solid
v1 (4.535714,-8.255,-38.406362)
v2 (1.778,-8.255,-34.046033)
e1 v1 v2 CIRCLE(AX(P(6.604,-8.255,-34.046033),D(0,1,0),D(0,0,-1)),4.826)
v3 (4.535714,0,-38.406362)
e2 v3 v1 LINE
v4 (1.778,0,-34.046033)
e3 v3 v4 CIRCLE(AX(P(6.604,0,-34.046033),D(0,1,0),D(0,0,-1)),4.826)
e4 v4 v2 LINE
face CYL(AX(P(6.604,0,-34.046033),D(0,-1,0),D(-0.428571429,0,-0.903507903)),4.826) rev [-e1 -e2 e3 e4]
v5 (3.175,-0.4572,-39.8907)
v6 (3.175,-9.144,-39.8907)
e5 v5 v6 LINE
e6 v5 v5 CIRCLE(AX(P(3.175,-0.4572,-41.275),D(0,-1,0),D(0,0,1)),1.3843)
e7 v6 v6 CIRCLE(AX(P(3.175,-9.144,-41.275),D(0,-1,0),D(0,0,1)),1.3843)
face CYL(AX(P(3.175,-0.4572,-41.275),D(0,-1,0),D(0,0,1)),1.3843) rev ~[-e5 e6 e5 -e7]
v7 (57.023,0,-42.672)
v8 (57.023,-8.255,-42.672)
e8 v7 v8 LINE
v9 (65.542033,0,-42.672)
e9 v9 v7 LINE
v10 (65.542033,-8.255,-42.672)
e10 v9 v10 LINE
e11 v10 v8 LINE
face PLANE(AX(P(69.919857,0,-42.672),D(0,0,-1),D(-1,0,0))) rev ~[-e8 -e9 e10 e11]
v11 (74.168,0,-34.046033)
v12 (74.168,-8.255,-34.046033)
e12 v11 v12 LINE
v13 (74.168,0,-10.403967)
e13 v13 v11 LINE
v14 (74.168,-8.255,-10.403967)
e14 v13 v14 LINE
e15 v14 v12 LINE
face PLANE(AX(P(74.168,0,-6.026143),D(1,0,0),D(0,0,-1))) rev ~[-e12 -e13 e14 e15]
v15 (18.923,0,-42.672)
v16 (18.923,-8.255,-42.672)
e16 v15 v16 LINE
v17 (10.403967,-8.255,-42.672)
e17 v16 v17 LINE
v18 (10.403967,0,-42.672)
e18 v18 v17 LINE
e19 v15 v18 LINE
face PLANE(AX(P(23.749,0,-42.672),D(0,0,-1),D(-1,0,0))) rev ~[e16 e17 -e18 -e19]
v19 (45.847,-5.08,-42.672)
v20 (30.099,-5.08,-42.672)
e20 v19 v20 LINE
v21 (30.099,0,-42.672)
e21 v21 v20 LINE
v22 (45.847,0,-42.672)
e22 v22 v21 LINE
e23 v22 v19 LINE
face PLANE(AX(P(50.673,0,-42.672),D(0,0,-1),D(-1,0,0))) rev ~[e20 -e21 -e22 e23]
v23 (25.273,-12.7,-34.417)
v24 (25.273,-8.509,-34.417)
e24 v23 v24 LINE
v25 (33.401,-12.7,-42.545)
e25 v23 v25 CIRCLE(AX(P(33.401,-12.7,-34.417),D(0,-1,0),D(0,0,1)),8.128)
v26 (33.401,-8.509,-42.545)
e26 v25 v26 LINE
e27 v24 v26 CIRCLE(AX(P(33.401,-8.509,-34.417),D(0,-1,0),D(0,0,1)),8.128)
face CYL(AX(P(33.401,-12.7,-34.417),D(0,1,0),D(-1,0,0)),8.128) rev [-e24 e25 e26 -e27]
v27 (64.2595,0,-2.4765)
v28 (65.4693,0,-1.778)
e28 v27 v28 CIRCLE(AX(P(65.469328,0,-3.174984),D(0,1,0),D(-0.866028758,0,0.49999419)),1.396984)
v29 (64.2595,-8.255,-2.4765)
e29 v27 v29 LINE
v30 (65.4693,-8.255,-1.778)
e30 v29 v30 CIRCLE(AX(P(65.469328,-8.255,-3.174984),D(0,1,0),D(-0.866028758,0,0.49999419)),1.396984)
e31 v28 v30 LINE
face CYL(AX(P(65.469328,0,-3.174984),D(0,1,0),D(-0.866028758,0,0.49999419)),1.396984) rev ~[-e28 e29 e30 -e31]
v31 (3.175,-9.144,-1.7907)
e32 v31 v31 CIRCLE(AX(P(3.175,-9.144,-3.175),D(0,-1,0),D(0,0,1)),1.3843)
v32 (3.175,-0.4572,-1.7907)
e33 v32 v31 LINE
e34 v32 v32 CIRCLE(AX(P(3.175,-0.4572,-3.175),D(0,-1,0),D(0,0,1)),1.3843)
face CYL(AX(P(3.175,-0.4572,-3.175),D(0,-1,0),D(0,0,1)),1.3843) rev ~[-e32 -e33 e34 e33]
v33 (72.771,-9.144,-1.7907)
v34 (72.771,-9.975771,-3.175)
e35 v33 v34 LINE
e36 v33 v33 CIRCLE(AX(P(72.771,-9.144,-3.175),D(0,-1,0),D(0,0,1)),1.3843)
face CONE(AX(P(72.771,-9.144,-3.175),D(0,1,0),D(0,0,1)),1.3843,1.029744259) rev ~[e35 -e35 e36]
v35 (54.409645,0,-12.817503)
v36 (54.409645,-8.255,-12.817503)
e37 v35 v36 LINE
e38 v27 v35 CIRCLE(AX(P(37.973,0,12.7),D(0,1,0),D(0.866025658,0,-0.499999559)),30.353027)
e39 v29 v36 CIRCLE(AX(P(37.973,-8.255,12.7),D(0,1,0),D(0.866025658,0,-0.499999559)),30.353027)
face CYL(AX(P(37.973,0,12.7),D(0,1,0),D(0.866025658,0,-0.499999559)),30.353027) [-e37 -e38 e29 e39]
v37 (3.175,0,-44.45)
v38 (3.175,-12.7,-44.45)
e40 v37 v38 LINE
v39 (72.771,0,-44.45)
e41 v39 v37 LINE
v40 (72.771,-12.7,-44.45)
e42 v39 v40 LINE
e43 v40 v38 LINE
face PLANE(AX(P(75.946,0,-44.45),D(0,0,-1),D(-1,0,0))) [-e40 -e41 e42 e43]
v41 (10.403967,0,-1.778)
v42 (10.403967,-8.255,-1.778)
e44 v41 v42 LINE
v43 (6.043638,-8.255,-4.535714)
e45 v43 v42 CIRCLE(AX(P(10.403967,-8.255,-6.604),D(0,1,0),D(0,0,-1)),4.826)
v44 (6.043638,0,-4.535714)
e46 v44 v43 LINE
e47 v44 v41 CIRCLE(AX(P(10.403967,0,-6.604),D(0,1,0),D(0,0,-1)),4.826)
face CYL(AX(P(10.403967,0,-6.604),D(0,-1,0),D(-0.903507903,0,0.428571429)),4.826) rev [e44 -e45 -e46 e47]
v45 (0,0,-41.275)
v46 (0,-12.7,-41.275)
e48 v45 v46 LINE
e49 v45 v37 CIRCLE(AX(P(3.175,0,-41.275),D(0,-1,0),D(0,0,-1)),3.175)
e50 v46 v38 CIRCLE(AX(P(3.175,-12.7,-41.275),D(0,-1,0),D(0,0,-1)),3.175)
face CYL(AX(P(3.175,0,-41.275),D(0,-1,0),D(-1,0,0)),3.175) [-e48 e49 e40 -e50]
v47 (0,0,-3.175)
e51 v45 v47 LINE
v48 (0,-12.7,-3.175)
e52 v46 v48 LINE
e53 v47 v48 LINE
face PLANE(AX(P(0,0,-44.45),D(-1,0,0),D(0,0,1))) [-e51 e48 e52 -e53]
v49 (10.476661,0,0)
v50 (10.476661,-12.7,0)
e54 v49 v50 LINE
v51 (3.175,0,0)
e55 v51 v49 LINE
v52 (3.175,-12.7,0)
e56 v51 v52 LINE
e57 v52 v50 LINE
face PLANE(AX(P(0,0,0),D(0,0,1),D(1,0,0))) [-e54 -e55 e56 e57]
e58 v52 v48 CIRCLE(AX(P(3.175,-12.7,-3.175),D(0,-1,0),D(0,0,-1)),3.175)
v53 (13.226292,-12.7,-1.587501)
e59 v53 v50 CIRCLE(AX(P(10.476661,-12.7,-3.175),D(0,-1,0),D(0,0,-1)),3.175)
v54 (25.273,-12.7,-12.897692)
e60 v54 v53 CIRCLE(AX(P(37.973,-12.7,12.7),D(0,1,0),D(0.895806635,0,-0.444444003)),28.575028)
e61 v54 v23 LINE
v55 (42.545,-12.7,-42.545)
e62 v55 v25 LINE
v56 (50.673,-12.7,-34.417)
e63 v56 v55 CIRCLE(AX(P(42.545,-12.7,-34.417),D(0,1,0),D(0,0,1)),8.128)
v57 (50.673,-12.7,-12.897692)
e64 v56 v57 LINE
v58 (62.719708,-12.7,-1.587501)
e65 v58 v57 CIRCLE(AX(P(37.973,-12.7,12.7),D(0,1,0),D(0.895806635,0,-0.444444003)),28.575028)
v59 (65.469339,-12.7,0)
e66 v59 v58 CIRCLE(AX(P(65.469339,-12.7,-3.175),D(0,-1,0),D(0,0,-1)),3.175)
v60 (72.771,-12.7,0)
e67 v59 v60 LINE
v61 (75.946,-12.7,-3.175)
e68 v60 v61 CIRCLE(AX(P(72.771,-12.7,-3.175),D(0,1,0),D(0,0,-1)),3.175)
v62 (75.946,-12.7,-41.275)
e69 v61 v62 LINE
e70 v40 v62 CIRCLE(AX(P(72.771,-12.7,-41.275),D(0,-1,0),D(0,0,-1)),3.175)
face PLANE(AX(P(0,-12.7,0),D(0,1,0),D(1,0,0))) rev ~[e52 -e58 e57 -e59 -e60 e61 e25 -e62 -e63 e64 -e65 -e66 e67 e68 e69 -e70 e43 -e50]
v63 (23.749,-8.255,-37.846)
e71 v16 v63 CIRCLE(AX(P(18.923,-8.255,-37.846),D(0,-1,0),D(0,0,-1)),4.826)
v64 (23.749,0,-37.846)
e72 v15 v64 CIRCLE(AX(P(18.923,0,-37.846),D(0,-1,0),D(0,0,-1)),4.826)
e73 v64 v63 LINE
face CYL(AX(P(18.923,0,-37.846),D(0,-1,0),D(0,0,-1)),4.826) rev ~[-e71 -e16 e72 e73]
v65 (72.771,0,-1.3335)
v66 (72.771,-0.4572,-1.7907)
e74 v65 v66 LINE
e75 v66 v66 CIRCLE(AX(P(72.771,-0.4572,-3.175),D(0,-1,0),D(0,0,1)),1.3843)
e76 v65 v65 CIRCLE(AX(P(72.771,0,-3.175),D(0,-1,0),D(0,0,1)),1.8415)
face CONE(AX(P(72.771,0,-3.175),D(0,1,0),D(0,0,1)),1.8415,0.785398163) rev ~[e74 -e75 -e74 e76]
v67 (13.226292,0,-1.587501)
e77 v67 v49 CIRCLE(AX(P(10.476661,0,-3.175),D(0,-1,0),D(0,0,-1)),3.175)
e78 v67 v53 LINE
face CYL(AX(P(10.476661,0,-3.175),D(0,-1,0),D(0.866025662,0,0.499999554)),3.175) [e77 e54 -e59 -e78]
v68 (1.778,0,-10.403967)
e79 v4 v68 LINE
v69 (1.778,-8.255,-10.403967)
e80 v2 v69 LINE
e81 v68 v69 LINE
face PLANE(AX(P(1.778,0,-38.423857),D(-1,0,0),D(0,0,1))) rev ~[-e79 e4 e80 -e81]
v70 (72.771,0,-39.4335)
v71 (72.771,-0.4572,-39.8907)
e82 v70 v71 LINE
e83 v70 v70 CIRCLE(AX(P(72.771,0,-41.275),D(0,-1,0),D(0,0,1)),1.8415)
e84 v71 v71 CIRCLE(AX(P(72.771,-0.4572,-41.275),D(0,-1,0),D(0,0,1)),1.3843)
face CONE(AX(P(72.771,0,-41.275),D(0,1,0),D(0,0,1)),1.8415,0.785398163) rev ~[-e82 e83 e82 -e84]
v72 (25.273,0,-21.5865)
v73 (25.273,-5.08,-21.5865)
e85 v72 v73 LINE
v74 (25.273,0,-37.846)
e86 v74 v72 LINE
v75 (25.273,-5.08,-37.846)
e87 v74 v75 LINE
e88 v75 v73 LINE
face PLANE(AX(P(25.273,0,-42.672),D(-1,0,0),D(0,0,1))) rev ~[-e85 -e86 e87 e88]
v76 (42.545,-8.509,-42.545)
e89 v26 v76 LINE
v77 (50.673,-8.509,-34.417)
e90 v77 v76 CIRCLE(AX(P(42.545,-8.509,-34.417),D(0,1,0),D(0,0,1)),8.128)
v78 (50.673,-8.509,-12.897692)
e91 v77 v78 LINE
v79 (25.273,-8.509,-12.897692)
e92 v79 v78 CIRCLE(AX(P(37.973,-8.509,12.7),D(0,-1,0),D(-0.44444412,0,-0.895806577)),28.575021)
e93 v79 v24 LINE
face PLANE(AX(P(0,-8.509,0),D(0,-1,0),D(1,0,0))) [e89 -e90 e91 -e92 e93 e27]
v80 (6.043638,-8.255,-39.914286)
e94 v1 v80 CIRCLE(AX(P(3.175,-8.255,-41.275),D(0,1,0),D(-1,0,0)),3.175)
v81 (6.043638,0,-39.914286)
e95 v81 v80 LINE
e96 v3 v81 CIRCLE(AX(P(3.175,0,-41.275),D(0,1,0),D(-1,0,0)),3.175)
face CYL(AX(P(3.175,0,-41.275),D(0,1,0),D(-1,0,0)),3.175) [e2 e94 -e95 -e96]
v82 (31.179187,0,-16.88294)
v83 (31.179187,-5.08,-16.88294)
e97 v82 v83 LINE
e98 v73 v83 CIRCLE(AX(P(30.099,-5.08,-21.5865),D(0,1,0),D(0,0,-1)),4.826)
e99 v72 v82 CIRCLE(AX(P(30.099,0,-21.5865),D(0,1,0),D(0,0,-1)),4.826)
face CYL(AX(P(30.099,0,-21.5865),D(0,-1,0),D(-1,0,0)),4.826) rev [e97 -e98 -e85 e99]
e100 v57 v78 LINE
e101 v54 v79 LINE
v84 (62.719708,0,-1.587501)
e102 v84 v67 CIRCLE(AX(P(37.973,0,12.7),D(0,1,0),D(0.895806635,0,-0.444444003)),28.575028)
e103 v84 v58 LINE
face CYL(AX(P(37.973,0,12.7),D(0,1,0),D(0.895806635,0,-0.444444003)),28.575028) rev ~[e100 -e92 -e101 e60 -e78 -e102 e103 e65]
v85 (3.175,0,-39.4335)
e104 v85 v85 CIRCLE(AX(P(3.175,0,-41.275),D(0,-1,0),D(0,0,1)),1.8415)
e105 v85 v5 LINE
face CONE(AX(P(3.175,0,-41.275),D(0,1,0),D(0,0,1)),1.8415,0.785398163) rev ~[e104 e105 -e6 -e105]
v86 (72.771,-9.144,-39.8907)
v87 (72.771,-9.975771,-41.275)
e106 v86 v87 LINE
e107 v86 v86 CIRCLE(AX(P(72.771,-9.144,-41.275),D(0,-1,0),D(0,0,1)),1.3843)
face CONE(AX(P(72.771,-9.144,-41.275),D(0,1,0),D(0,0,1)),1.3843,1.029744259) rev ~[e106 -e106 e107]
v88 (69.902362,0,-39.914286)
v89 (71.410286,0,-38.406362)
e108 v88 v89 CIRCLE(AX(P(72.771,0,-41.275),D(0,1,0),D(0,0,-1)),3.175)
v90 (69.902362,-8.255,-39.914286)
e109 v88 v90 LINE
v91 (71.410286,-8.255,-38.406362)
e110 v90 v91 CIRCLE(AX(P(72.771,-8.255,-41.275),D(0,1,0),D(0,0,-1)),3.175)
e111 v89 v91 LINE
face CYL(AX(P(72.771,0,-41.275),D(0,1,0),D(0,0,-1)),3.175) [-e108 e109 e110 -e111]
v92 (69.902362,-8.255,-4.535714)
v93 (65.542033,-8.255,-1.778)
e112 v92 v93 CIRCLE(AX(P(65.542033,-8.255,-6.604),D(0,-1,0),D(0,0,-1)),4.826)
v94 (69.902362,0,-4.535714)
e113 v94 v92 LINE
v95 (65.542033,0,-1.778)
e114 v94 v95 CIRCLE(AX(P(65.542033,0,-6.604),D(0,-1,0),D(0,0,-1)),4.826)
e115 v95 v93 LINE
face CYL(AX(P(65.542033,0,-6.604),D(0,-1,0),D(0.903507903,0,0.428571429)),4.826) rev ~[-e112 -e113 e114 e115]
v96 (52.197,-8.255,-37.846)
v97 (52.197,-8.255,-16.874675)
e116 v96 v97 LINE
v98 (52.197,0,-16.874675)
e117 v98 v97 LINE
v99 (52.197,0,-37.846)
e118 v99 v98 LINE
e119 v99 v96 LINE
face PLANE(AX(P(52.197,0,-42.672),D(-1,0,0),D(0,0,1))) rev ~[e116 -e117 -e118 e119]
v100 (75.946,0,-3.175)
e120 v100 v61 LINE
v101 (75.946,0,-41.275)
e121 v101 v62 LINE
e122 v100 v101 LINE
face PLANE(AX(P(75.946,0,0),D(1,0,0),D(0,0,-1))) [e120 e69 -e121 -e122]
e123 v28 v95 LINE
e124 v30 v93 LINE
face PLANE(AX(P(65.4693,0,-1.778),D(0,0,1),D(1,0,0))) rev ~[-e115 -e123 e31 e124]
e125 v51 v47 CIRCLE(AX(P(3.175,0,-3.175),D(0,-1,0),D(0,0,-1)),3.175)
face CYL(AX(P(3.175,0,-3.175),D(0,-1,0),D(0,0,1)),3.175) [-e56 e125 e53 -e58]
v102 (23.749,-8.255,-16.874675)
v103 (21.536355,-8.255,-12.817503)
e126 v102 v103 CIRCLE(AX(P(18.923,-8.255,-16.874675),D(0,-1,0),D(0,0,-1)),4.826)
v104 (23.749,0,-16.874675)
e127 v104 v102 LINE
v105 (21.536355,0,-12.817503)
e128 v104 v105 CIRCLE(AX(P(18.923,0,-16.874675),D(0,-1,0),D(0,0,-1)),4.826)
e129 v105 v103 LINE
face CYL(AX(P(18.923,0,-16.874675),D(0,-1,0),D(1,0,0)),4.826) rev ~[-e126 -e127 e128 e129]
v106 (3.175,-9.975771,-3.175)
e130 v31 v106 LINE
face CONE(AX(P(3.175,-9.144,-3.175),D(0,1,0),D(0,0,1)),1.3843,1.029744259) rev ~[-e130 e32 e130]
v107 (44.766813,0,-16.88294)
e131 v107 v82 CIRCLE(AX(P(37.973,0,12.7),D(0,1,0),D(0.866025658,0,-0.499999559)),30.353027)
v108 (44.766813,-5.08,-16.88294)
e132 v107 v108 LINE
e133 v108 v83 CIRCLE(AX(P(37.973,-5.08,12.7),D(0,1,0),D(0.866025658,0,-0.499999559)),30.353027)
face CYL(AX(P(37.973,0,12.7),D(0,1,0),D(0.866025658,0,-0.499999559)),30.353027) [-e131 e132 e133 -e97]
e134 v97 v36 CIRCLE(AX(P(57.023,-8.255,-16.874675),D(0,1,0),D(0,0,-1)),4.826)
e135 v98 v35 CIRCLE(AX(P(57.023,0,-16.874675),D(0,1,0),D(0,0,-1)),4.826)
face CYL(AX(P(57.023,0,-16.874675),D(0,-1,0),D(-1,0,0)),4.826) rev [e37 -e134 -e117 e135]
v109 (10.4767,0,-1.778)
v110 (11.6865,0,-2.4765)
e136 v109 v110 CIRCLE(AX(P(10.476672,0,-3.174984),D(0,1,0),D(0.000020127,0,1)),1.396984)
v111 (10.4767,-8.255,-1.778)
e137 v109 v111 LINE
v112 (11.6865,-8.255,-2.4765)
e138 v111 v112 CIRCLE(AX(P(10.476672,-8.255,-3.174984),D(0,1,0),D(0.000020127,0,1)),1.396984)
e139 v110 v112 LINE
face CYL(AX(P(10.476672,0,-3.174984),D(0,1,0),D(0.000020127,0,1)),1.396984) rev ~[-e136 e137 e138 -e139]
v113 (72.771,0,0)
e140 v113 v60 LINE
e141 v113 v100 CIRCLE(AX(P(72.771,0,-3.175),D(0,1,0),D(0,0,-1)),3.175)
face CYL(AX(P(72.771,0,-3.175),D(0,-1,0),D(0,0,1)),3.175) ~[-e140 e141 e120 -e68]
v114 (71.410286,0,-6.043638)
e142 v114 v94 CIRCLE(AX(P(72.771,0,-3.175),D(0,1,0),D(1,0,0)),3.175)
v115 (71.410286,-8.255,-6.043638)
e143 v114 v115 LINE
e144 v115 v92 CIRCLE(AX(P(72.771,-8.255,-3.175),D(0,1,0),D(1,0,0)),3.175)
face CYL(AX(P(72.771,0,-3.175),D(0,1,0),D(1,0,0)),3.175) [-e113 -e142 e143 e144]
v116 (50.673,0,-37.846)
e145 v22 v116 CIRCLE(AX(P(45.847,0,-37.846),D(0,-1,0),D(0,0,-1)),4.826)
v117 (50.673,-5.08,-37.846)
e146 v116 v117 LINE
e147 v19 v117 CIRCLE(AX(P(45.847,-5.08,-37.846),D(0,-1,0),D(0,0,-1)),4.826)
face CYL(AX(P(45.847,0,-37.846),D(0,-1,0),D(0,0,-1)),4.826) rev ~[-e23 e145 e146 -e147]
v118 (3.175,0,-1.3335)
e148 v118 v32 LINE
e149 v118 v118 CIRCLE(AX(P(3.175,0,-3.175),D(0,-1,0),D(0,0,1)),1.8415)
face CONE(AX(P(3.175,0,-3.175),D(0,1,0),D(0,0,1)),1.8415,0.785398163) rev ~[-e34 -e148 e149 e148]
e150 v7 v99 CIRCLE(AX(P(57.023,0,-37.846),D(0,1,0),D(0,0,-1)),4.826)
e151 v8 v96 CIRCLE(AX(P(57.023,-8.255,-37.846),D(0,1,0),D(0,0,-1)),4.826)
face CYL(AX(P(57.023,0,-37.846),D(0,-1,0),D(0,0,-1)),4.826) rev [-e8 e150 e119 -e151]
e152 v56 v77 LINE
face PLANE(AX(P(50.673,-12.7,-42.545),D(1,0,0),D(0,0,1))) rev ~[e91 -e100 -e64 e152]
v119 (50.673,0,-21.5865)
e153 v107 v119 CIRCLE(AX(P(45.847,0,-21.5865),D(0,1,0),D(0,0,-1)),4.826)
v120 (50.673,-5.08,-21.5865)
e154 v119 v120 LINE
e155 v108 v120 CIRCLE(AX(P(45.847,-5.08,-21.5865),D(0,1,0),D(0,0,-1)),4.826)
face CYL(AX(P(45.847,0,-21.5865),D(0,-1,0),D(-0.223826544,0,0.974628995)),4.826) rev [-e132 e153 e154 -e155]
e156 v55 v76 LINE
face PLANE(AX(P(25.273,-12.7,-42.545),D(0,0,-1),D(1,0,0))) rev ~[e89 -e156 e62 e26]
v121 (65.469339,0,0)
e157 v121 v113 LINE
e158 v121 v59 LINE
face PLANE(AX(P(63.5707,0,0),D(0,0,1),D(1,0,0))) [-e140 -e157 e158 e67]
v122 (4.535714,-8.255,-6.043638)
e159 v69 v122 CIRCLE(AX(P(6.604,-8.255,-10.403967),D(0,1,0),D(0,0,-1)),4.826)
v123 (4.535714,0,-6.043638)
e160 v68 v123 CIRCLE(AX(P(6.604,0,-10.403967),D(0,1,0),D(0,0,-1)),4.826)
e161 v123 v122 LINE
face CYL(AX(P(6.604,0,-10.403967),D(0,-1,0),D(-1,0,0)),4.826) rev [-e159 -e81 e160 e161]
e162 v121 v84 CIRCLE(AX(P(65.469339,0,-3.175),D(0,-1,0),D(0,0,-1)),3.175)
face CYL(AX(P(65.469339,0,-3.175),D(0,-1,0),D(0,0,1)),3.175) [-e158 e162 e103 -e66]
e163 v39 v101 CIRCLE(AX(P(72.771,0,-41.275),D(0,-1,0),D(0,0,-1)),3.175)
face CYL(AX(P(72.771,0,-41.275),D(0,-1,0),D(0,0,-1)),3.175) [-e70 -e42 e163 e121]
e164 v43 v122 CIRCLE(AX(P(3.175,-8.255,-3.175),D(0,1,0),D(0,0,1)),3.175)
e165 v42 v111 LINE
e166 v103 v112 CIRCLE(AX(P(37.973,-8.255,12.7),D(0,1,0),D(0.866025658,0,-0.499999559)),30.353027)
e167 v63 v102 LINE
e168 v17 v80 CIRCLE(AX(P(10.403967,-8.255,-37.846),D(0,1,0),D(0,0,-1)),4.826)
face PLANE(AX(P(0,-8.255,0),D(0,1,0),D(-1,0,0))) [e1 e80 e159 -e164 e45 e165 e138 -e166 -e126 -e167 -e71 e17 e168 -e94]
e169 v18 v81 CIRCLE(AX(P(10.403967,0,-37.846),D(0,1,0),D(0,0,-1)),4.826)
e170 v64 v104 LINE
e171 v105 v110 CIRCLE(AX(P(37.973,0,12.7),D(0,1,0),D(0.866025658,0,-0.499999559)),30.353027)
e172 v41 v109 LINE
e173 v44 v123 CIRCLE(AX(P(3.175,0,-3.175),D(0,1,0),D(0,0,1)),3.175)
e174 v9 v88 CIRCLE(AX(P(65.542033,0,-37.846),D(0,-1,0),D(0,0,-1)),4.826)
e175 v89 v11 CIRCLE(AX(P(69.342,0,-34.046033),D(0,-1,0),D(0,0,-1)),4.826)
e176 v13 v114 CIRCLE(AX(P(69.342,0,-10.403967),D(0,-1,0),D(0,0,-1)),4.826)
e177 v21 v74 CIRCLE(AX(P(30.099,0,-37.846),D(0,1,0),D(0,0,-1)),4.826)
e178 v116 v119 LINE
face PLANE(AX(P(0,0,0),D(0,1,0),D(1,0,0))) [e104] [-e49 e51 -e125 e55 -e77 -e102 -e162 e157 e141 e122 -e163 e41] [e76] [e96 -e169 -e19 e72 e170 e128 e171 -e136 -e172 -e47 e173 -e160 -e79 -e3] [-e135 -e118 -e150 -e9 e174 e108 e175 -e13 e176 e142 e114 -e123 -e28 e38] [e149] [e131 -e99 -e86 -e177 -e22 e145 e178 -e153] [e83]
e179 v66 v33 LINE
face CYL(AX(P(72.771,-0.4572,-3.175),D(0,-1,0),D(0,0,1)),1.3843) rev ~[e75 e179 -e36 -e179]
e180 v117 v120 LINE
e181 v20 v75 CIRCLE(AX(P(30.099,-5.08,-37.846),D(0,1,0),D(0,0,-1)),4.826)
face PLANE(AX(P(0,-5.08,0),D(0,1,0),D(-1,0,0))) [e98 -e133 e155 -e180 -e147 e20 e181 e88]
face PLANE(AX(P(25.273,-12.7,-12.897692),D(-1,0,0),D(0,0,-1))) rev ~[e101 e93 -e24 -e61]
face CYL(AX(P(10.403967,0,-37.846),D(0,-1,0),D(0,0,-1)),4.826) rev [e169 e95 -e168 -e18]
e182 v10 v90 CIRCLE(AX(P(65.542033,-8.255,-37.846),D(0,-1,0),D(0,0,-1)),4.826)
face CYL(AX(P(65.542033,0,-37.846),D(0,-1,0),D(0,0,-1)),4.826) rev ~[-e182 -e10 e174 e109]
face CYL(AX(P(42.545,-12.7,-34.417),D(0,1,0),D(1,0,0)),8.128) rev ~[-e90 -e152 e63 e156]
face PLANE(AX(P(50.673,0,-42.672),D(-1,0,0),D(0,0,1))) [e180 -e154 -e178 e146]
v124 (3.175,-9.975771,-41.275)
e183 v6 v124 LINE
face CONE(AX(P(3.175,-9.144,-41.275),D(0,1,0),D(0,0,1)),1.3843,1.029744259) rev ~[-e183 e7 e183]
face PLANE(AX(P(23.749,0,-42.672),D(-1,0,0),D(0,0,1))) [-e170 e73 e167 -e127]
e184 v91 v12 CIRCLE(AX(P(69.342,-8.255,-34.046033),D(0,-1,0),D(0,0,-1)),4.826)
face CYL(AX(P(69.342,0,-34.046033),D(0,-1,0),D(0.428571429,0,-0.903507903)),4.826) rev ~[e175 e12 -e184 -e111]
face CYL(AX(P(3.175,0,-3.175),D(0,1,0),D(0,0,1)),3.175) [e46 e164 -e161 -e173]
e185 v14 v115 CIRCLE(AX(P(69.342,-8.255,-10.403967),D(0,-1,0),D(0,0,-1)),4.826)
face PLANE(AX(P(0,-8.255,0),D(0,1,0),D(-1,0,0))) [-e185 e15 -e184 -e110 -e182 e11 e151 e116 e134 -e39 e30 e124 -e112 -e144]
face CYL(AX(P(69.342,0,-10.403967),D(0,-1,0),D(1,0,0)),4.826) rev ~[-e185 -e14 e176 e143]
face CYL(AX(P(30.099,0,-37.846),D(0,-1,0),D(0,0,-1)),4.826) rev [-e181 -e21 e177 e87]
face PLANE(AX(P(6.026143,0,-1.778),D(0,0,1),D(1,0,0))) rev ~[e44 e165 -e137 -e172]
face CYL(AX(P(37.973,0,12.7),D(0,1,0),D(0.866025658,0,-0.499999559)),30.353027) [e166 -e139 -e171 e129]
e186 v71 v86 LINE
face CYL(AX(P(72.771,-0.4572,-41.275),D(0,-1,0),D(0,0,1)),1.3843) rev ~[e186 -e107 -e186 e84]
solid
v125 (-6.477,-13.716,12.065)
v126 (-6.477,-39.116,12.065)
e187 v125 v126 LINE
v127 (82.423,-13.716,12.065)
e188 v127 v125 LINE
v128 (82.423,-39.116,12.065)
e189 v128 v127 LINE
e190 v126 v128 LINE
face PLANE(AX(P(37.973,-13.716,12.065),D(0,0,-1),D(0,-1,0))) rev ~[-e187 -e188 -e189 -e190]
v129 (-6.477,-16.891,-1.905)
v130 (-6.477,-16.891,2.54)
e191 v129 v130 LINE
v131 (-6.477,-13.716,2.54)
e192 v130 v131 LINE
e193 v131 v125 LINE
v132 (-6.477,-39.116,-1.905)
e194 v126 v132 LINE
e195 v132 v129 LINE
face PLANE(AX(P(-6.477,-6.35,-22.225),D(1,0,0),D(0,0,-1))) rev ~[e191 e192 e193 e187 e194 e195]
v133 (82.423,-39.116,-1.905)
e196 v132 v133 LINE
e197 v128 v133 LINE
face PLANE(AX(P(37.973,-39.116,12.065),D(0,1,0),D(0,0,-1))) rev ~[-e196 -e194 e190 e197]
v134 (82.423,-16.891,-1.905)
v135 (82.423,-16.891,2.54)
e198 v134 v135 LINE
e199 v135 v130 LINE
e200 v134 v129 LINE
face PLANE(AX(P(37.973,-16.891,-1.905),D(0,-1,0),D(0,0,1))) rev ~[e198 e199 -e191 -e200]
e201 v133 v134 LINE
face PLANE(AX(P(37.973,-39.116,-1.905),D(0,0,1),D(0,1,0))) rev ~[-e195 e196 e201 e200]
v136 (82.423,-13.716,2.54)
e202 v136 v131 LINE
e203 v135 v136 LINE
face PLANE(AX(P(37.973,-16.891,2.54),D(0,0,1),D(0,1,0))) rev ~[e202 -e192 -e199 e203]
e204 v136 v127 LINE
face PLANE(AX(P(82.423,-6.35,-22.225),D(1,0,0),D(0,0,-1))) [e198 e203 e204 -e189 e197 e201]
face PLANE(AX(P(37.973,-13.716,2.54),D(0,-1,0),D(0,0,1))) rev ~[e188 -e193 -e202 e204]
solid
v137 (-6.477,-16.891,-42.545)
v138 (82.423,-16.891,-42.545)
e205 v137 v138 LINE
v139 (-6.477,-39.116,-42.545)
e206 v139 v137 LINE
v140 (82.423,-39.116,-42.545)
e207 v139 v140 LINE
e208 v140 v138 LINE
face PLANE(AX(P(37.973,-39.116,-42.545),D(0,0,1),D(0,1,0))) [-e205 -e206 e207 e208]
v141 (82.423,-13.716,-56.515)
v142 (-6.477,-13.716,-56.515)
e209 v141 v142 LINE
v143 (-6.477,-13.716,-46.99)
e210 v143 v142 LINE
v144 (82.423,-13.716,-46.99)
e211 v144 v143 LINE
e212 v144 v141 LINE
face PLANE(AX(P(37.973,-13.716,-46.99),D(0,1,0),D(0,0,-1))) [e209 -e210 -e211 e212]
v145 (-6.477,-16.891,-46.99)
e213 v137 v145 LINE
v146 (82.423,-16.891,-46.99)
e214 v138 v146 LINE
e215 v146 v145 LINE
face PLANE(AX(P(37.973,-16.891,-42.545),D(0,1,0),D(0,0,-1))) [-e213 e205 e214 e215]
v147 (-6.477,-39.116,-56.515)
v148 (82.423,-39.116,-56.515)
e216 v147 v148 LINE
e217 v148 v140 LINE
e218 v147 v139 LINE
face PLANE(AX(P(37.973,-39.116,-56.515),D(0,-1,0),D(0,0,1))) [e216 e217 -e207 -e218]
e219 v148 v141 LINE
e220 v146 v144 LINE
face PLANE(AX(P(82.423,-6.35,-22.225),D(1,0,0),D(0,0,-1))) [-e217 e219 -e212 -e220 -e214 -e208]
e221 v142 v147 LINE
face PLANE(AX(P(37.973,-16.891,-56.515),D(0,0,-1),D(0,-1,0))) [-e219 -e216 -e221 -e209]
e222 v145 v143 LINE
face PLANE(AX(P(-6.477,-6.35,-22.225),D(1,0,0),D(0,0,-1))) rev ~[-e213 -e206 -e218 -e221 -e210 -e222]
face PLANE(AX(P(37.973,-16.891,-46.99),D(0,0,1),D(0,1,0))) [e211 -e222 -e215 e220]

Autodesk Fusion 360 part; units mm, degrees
sketch "Sketch1" plane through (0, 0, 0) normal (0, 1, 0) x (1, 0, 0)
  line L0 (75.946, 0) -> (75.946, 44.45)
  line L1 (75.946, 44.45) -> (0, 44.45)
  line L2 (0, 44.45) -> (0, 0)
  arc A0 (63.5707, 0) -> (12.3753, 0) centre (37.973, -12.7) ccw
  line L3 (0, 0) -> (12.3753, 0)
  line L4 (63.5707, 0) -> (75.946, 0)
  dimension "d1" = 75.946
  dimension "d2" = 44.45
  dimension "d3" = 12.7
  dimension "d4" = 28.575
  dimension "d5" = 37.973
extrude "Extrude1" add sketch "Sketch1" against normal blind 12.7 makes body 1
fillet "Fillet1" radius 3.175 6 edges at (0, -6.35, 0) (12.3753, -6.35, 0) (63.5707, -6.35, 0) (75.946, -6.35, 0) (75.946, -6.35, -44.45) (0, -6.35, -44.45) on bodies 1
sketch "Sketch2" plane through (0, 0, 0) normal (0, 1, 0) x (-1, 0, 0)
  arc A0 (-3.175, -44.45) -> (0, -41.275) centre (-3.175, -41.275) ccw
  line L0 (0, -41.275) -> (0, -3.175)
  arc A1 (0, -3.175) -> (-3.175, 0) centre (-3.175, -3.175) ccw
  line L1 (-3.175, 0) -> (-10.4767, 0)
  arc A2 (-10.4767, 0) -> (-13.2263, -1.5875) centre (-10.4767, -3.175) ccw
  arc A3 (-62.7197, -1.5875) -> (-13.2263, -1.5875) centre (-37.973, 12.7) ccw
  arc A4 (-62.7197, -1.5875) -> (-65.4693, 0) centre (-65.4693, -3.175) ccw
  line L2 (-65.4693, 0) -> (-72.771, 0)
  arc A5 (-72.771, 0) -> (-75.946, -3.175) centre (-72.771, -3.175) ccw
  line L3 (-75.946, -3.175) -> (-75.946, -41.275)
  arc A6 (-75.946, -41.275) -> (-72.771, -44.45) centre (-72.771, -41.275) ccw
  line L4 (-72.771, -44.45) -> (-3.175, -44.45)
  line L5 (-1.778, -41.275) -> (-1.778, -3.175)
  arc A7 (-1.778, -3.175) -> (-3.175, -1.778) centre (-3.175, -3.175) ccw
  line L6 (-3.175, -1.778) -> (-10.4767, -1.778)
  arc A8 (-10.4767, -1.778) -> (-11.6865, -2.4765) centre (-10.4767, -3.175) ccw
  arc A9 (-64.2595, -2.4765) -> (-11.6865, -2.4765) centre (-37.973, 12.7) ccw
  arc A10 (-64.2595, -2.4765) -> (-65.4693, -1.778) centre (-65.4693, -3.175) ccw
  line L7 (-65.4693, -1.778) -> (-72.771, -1.778)
  arc A11 (-72.771, -1.778) -> (-74.168, -3.175) centre (-72.771, -3.175) ccw
  line L8 (-74.168, -3.175) -> (-74.168, -41.275)
  arc A12 (-74.168, -41.275) -> (-72.771, -42.672) centre (-72.771, -41.275) ccw
  line L9 (-72.771, -42.672) -> (-3.175, -42.672)
  arc A13 (-3.175, -42.672) -> (-1.778, -41.275) centre (-3.175, -41.275) ccw
  line L10 (-37.973, -44.45) -> (-37.973, -6.9842) construction
  line L11 (-25.273, -47.7039) -> (-25.273, -6.2054)
  line L12 (-23.749, -47.7039) -> (-23.749, -6.2054)
  line L13 (-50.673, -47.7039) -> (-50.673, -6.2054)
  line L14 (-52.197, -47.7039) -> (-52.197, -6.2054)
  arc A14 (0, -41.275) -> (-3.175, -44.45) centre (-3.175, -41.275) ccw
  arc A15 (-72.771, -44.45) -> (-75.946, -41.275) centre (-72.771, -41.275) ccw
  arc A16 (-75.946, -3.175) -> (-72.771, 0) centre (-72.771, -3.175) ccw
  arc A17 (-3.175, 0) -> (0, -3.175) centre (-3.175, -3.175) ccw
  dimension "d9" = -1.778
  dimension "d10" = 1.524
  dimension "d11" = 12.7
extrude "Extrude2" cut sketch "Sketch2" against normal blind 8.255 contours L5 L6 A8 A9 L9 L12 A14 A17 | A9 A10 L7 L8 L9 L14 A15 A16 bodies 1
extrude "Extrude3" cut sketch "Sketch2" against normal blind 5.08 contours A9 L9 L11 L13 bodies 1
fillet "Fillet2" radius 4.826 16 edges at (6.0261, -4.1275, -42.672) (1.778, -4.1275, -38.4239) (1.778, -4.1275, -6.0261) (6.0261, -4.1275, -1.778) (23.749, -4.1275, -14.1138) (23.749, -4.1275, -42.672) (50.673, -2.54, -42.672) (69.9199, -4.1275, -42.672) (74.168, -4.1275, -38.4239) (25.273, -2.54, -42.672) (25.273, -2.54, -14.8684) (50.673, -2.54, -14.8684) (69.9199, -4.1275, -1.778) (74.168, -4.1275, -6.0261) (52.197, -4.1275, -42.672) (52.197, -4.1275, -14.1138) on bodies 1
hole "Hole1" at (3.175, 0, -41.275) at (3.175, 0, -3.175) at (72.771, 0, -3.175) at (72.771, 0, -41.275) direction (0, -1, 0) diameter 2.7686 depth 9.144 tip angle 118 countersink diameter 3.683 countersink angle 90 bodies 1
sketch "Sketch3" plane through (0, -12.7, 0) normal (0, -1, 0) x (1, 0, 0)
  arc A0 (0, -41.275) -> (3.175, -44.45) centre (3.175, -41.275) ccw
  line L0 (3.175, -44.45) -> (72.771, -44.45)
  arc A1 (72.771, -44.45) -> (75.946, -41.275) centre (72.771, -41.275) ccw
  line L1 (75.946, -41.275) -> (75.946, -3.175)
  arc A2 (75.946, -3.175) -> (72.771, 0) centre (72.771, -3.175) ccw
  line L2 (72.771, 0) -> (65.4693, 0)
  arc A3 (65.4693, 0) -> (62.7197, -1.5875) centre (65.4693, -3.175) ccw
  arc A4 (13.2263, -1.5875) -> (62.7197, -1.5875) centre (37.973, 12.7) ccw
  arc A5 (13.2263, -1.5875) -> (10.4767, 0) centre (10.4767, -3.175) ccw
  line L3 (10.4767, 0) -> (3.175, 0)
  arc A6 (3.175, 0) -> (0, -3.175) centre (3.175, -3.175) ccw
  line L4 (0, -3.175) -> (0, -41.275)
  line L5 (37.973, -44.45) -> (37.973, -7.62)
  line L6 (50.673, -9.525) -> (25.273, -9.525)
  line L7 (25.273, -9.525) -> (25.273, -42.545)
  line L8 (25.273, -42.545) -> (50.673, -42.545)
  line L9 (50.673, -42.545) -> (50.673, -9.525)
  line L10 (50.673, -9.525) -> (25.273, -42.545) construction
  line L11 (25.273, -9.525) -> (50.673, -42.545) construction
  point P0 (37.973, -26.035)
  dimension "d24" = 33.02
  dimension "d25" = 25.4
extrude "Extrude4" cut sketch "Sketch3" against normal blind 4.191 contours A4 L5 L7 L8 | A4 L5 L8 L9 bodies 1
fillet "Fillet3" radius 8.128 2 edges at (50.673, -10.6045, -42.545) (25.273, -10.6045, -42.545) on bodies 1
ref_plane "WorkPlane1" through (37.973, -6.35, -22.225) normal (1, 0, 0) x (0, 0, 1)
sketch "Sketch4" plane through (37.973, -6.35, -22.225) normal (1, 0, 0) x (0, 0, -1)
  line L0 (0, 0) -> (0, -17.7867)
  line L1 (-17.4102, -10.541) -> (14.5751, -10.541)
  line L2 (19.05, -6.35) -> (-19.05, -6.35)
  line L3 (20.32, -10.541) -> (34.29, -10.541)
  line L4 (34.29, -10.541) -> (34.29, -32.766)
  line L5 (34.29, -32.766) -> (20.32, -32.766)
  line L6 (20.32, -32.766) -> (20.32, -10.541)
  line L7 (34.29, -10.541) -> (24.765, -10.541)
  line L8 (24.765, -10.541) -> (24.765, -7.366)
  line L9 (24.765, -7.366) -> (34.29, -7.366)
  line L10 (34.29, -7.366) -> (34.29, -10.541)
  line L11 (-34.29, -10.541) -> (-24.765, -10.541)
  line L12 (-34.29, -7.366) -> (-34.29, -10.541)
  line L13 (-24.765, -7.366) -> (-34.29, -7.366)
  line L14 (-20.32, -32.766) -> (-20.32, -10.541)
  line L15 (-24.765, -10.541) -> (-24.765, -7.366)
  line L16 (-20.32, -10.541) -> (-34.29, -10.541)
  line L17 (-34.29, -32.766) -> (-20.32, -32.766)
  line L18 (-34.29, -10.541) -> (-34.29, -32.766)
  dimension "d29" = 4.191
  dimension "d30" = 22.225
  dimension "d31" = 13.97
  dimension "d32" = 3.175
  dimension "d33" = 9.525
  dimension "d34" = 20.32
extrude "Extrude5" add sketch "Sketch4" along normal mid plane 88.9 separate body makes body 2 at (23.1563, -22.1827, 12.065) makes body 3 at (52.7897, -30.6493, -56.515)
sketch "Sketch5" plane through (0, -5.08, 0) normal (0, 1, 0) x (-1, 0, 0)
  curve A0
  line L0 (-50.673, -21.5865) -> (-50.673, -37.846)
  arc A1 (-50.673, -37.846) -> (-45.847, -42.672) centre (-45.847, -37.846) ccw
  line L1 (-45.847, -42.672) -> (-30.099, -42.672)
  arc A2 (-30.099, -42.672) -> (-25.273, -37.846) centre (-30.099, -37.846) ccw
  line L2 (-25.273, -37.846) -> (-25.273, -21.5865)
  curve A3
  arc A4 (-44.7668, -16.8829) -> (-31.1792, -16.8829) centre (-37.973, 12.7) ccw
  line L3 (-30.48, -27.94) -> (-45.72, -27.94)
  arc A5 (-45.72, -27.94) -> (-45.72, -33.02) centre (-45.72, -30.48) ccw
  line L4 (-45.72, -33.02) -> (-30.48, -33.02)
  arc A6 (-30.48, -33.02) -> (-30.48, -27.94) centre (-30.48, -30.48) ccw
  line L5 (-30.48, -30.48) -> (-45.72, -30.48) construction
  dimension "d40" = 15.24
  dimension "d41" = 5.08
  dimension "d42" = 5.207
  dimension "d43" = 12.192
